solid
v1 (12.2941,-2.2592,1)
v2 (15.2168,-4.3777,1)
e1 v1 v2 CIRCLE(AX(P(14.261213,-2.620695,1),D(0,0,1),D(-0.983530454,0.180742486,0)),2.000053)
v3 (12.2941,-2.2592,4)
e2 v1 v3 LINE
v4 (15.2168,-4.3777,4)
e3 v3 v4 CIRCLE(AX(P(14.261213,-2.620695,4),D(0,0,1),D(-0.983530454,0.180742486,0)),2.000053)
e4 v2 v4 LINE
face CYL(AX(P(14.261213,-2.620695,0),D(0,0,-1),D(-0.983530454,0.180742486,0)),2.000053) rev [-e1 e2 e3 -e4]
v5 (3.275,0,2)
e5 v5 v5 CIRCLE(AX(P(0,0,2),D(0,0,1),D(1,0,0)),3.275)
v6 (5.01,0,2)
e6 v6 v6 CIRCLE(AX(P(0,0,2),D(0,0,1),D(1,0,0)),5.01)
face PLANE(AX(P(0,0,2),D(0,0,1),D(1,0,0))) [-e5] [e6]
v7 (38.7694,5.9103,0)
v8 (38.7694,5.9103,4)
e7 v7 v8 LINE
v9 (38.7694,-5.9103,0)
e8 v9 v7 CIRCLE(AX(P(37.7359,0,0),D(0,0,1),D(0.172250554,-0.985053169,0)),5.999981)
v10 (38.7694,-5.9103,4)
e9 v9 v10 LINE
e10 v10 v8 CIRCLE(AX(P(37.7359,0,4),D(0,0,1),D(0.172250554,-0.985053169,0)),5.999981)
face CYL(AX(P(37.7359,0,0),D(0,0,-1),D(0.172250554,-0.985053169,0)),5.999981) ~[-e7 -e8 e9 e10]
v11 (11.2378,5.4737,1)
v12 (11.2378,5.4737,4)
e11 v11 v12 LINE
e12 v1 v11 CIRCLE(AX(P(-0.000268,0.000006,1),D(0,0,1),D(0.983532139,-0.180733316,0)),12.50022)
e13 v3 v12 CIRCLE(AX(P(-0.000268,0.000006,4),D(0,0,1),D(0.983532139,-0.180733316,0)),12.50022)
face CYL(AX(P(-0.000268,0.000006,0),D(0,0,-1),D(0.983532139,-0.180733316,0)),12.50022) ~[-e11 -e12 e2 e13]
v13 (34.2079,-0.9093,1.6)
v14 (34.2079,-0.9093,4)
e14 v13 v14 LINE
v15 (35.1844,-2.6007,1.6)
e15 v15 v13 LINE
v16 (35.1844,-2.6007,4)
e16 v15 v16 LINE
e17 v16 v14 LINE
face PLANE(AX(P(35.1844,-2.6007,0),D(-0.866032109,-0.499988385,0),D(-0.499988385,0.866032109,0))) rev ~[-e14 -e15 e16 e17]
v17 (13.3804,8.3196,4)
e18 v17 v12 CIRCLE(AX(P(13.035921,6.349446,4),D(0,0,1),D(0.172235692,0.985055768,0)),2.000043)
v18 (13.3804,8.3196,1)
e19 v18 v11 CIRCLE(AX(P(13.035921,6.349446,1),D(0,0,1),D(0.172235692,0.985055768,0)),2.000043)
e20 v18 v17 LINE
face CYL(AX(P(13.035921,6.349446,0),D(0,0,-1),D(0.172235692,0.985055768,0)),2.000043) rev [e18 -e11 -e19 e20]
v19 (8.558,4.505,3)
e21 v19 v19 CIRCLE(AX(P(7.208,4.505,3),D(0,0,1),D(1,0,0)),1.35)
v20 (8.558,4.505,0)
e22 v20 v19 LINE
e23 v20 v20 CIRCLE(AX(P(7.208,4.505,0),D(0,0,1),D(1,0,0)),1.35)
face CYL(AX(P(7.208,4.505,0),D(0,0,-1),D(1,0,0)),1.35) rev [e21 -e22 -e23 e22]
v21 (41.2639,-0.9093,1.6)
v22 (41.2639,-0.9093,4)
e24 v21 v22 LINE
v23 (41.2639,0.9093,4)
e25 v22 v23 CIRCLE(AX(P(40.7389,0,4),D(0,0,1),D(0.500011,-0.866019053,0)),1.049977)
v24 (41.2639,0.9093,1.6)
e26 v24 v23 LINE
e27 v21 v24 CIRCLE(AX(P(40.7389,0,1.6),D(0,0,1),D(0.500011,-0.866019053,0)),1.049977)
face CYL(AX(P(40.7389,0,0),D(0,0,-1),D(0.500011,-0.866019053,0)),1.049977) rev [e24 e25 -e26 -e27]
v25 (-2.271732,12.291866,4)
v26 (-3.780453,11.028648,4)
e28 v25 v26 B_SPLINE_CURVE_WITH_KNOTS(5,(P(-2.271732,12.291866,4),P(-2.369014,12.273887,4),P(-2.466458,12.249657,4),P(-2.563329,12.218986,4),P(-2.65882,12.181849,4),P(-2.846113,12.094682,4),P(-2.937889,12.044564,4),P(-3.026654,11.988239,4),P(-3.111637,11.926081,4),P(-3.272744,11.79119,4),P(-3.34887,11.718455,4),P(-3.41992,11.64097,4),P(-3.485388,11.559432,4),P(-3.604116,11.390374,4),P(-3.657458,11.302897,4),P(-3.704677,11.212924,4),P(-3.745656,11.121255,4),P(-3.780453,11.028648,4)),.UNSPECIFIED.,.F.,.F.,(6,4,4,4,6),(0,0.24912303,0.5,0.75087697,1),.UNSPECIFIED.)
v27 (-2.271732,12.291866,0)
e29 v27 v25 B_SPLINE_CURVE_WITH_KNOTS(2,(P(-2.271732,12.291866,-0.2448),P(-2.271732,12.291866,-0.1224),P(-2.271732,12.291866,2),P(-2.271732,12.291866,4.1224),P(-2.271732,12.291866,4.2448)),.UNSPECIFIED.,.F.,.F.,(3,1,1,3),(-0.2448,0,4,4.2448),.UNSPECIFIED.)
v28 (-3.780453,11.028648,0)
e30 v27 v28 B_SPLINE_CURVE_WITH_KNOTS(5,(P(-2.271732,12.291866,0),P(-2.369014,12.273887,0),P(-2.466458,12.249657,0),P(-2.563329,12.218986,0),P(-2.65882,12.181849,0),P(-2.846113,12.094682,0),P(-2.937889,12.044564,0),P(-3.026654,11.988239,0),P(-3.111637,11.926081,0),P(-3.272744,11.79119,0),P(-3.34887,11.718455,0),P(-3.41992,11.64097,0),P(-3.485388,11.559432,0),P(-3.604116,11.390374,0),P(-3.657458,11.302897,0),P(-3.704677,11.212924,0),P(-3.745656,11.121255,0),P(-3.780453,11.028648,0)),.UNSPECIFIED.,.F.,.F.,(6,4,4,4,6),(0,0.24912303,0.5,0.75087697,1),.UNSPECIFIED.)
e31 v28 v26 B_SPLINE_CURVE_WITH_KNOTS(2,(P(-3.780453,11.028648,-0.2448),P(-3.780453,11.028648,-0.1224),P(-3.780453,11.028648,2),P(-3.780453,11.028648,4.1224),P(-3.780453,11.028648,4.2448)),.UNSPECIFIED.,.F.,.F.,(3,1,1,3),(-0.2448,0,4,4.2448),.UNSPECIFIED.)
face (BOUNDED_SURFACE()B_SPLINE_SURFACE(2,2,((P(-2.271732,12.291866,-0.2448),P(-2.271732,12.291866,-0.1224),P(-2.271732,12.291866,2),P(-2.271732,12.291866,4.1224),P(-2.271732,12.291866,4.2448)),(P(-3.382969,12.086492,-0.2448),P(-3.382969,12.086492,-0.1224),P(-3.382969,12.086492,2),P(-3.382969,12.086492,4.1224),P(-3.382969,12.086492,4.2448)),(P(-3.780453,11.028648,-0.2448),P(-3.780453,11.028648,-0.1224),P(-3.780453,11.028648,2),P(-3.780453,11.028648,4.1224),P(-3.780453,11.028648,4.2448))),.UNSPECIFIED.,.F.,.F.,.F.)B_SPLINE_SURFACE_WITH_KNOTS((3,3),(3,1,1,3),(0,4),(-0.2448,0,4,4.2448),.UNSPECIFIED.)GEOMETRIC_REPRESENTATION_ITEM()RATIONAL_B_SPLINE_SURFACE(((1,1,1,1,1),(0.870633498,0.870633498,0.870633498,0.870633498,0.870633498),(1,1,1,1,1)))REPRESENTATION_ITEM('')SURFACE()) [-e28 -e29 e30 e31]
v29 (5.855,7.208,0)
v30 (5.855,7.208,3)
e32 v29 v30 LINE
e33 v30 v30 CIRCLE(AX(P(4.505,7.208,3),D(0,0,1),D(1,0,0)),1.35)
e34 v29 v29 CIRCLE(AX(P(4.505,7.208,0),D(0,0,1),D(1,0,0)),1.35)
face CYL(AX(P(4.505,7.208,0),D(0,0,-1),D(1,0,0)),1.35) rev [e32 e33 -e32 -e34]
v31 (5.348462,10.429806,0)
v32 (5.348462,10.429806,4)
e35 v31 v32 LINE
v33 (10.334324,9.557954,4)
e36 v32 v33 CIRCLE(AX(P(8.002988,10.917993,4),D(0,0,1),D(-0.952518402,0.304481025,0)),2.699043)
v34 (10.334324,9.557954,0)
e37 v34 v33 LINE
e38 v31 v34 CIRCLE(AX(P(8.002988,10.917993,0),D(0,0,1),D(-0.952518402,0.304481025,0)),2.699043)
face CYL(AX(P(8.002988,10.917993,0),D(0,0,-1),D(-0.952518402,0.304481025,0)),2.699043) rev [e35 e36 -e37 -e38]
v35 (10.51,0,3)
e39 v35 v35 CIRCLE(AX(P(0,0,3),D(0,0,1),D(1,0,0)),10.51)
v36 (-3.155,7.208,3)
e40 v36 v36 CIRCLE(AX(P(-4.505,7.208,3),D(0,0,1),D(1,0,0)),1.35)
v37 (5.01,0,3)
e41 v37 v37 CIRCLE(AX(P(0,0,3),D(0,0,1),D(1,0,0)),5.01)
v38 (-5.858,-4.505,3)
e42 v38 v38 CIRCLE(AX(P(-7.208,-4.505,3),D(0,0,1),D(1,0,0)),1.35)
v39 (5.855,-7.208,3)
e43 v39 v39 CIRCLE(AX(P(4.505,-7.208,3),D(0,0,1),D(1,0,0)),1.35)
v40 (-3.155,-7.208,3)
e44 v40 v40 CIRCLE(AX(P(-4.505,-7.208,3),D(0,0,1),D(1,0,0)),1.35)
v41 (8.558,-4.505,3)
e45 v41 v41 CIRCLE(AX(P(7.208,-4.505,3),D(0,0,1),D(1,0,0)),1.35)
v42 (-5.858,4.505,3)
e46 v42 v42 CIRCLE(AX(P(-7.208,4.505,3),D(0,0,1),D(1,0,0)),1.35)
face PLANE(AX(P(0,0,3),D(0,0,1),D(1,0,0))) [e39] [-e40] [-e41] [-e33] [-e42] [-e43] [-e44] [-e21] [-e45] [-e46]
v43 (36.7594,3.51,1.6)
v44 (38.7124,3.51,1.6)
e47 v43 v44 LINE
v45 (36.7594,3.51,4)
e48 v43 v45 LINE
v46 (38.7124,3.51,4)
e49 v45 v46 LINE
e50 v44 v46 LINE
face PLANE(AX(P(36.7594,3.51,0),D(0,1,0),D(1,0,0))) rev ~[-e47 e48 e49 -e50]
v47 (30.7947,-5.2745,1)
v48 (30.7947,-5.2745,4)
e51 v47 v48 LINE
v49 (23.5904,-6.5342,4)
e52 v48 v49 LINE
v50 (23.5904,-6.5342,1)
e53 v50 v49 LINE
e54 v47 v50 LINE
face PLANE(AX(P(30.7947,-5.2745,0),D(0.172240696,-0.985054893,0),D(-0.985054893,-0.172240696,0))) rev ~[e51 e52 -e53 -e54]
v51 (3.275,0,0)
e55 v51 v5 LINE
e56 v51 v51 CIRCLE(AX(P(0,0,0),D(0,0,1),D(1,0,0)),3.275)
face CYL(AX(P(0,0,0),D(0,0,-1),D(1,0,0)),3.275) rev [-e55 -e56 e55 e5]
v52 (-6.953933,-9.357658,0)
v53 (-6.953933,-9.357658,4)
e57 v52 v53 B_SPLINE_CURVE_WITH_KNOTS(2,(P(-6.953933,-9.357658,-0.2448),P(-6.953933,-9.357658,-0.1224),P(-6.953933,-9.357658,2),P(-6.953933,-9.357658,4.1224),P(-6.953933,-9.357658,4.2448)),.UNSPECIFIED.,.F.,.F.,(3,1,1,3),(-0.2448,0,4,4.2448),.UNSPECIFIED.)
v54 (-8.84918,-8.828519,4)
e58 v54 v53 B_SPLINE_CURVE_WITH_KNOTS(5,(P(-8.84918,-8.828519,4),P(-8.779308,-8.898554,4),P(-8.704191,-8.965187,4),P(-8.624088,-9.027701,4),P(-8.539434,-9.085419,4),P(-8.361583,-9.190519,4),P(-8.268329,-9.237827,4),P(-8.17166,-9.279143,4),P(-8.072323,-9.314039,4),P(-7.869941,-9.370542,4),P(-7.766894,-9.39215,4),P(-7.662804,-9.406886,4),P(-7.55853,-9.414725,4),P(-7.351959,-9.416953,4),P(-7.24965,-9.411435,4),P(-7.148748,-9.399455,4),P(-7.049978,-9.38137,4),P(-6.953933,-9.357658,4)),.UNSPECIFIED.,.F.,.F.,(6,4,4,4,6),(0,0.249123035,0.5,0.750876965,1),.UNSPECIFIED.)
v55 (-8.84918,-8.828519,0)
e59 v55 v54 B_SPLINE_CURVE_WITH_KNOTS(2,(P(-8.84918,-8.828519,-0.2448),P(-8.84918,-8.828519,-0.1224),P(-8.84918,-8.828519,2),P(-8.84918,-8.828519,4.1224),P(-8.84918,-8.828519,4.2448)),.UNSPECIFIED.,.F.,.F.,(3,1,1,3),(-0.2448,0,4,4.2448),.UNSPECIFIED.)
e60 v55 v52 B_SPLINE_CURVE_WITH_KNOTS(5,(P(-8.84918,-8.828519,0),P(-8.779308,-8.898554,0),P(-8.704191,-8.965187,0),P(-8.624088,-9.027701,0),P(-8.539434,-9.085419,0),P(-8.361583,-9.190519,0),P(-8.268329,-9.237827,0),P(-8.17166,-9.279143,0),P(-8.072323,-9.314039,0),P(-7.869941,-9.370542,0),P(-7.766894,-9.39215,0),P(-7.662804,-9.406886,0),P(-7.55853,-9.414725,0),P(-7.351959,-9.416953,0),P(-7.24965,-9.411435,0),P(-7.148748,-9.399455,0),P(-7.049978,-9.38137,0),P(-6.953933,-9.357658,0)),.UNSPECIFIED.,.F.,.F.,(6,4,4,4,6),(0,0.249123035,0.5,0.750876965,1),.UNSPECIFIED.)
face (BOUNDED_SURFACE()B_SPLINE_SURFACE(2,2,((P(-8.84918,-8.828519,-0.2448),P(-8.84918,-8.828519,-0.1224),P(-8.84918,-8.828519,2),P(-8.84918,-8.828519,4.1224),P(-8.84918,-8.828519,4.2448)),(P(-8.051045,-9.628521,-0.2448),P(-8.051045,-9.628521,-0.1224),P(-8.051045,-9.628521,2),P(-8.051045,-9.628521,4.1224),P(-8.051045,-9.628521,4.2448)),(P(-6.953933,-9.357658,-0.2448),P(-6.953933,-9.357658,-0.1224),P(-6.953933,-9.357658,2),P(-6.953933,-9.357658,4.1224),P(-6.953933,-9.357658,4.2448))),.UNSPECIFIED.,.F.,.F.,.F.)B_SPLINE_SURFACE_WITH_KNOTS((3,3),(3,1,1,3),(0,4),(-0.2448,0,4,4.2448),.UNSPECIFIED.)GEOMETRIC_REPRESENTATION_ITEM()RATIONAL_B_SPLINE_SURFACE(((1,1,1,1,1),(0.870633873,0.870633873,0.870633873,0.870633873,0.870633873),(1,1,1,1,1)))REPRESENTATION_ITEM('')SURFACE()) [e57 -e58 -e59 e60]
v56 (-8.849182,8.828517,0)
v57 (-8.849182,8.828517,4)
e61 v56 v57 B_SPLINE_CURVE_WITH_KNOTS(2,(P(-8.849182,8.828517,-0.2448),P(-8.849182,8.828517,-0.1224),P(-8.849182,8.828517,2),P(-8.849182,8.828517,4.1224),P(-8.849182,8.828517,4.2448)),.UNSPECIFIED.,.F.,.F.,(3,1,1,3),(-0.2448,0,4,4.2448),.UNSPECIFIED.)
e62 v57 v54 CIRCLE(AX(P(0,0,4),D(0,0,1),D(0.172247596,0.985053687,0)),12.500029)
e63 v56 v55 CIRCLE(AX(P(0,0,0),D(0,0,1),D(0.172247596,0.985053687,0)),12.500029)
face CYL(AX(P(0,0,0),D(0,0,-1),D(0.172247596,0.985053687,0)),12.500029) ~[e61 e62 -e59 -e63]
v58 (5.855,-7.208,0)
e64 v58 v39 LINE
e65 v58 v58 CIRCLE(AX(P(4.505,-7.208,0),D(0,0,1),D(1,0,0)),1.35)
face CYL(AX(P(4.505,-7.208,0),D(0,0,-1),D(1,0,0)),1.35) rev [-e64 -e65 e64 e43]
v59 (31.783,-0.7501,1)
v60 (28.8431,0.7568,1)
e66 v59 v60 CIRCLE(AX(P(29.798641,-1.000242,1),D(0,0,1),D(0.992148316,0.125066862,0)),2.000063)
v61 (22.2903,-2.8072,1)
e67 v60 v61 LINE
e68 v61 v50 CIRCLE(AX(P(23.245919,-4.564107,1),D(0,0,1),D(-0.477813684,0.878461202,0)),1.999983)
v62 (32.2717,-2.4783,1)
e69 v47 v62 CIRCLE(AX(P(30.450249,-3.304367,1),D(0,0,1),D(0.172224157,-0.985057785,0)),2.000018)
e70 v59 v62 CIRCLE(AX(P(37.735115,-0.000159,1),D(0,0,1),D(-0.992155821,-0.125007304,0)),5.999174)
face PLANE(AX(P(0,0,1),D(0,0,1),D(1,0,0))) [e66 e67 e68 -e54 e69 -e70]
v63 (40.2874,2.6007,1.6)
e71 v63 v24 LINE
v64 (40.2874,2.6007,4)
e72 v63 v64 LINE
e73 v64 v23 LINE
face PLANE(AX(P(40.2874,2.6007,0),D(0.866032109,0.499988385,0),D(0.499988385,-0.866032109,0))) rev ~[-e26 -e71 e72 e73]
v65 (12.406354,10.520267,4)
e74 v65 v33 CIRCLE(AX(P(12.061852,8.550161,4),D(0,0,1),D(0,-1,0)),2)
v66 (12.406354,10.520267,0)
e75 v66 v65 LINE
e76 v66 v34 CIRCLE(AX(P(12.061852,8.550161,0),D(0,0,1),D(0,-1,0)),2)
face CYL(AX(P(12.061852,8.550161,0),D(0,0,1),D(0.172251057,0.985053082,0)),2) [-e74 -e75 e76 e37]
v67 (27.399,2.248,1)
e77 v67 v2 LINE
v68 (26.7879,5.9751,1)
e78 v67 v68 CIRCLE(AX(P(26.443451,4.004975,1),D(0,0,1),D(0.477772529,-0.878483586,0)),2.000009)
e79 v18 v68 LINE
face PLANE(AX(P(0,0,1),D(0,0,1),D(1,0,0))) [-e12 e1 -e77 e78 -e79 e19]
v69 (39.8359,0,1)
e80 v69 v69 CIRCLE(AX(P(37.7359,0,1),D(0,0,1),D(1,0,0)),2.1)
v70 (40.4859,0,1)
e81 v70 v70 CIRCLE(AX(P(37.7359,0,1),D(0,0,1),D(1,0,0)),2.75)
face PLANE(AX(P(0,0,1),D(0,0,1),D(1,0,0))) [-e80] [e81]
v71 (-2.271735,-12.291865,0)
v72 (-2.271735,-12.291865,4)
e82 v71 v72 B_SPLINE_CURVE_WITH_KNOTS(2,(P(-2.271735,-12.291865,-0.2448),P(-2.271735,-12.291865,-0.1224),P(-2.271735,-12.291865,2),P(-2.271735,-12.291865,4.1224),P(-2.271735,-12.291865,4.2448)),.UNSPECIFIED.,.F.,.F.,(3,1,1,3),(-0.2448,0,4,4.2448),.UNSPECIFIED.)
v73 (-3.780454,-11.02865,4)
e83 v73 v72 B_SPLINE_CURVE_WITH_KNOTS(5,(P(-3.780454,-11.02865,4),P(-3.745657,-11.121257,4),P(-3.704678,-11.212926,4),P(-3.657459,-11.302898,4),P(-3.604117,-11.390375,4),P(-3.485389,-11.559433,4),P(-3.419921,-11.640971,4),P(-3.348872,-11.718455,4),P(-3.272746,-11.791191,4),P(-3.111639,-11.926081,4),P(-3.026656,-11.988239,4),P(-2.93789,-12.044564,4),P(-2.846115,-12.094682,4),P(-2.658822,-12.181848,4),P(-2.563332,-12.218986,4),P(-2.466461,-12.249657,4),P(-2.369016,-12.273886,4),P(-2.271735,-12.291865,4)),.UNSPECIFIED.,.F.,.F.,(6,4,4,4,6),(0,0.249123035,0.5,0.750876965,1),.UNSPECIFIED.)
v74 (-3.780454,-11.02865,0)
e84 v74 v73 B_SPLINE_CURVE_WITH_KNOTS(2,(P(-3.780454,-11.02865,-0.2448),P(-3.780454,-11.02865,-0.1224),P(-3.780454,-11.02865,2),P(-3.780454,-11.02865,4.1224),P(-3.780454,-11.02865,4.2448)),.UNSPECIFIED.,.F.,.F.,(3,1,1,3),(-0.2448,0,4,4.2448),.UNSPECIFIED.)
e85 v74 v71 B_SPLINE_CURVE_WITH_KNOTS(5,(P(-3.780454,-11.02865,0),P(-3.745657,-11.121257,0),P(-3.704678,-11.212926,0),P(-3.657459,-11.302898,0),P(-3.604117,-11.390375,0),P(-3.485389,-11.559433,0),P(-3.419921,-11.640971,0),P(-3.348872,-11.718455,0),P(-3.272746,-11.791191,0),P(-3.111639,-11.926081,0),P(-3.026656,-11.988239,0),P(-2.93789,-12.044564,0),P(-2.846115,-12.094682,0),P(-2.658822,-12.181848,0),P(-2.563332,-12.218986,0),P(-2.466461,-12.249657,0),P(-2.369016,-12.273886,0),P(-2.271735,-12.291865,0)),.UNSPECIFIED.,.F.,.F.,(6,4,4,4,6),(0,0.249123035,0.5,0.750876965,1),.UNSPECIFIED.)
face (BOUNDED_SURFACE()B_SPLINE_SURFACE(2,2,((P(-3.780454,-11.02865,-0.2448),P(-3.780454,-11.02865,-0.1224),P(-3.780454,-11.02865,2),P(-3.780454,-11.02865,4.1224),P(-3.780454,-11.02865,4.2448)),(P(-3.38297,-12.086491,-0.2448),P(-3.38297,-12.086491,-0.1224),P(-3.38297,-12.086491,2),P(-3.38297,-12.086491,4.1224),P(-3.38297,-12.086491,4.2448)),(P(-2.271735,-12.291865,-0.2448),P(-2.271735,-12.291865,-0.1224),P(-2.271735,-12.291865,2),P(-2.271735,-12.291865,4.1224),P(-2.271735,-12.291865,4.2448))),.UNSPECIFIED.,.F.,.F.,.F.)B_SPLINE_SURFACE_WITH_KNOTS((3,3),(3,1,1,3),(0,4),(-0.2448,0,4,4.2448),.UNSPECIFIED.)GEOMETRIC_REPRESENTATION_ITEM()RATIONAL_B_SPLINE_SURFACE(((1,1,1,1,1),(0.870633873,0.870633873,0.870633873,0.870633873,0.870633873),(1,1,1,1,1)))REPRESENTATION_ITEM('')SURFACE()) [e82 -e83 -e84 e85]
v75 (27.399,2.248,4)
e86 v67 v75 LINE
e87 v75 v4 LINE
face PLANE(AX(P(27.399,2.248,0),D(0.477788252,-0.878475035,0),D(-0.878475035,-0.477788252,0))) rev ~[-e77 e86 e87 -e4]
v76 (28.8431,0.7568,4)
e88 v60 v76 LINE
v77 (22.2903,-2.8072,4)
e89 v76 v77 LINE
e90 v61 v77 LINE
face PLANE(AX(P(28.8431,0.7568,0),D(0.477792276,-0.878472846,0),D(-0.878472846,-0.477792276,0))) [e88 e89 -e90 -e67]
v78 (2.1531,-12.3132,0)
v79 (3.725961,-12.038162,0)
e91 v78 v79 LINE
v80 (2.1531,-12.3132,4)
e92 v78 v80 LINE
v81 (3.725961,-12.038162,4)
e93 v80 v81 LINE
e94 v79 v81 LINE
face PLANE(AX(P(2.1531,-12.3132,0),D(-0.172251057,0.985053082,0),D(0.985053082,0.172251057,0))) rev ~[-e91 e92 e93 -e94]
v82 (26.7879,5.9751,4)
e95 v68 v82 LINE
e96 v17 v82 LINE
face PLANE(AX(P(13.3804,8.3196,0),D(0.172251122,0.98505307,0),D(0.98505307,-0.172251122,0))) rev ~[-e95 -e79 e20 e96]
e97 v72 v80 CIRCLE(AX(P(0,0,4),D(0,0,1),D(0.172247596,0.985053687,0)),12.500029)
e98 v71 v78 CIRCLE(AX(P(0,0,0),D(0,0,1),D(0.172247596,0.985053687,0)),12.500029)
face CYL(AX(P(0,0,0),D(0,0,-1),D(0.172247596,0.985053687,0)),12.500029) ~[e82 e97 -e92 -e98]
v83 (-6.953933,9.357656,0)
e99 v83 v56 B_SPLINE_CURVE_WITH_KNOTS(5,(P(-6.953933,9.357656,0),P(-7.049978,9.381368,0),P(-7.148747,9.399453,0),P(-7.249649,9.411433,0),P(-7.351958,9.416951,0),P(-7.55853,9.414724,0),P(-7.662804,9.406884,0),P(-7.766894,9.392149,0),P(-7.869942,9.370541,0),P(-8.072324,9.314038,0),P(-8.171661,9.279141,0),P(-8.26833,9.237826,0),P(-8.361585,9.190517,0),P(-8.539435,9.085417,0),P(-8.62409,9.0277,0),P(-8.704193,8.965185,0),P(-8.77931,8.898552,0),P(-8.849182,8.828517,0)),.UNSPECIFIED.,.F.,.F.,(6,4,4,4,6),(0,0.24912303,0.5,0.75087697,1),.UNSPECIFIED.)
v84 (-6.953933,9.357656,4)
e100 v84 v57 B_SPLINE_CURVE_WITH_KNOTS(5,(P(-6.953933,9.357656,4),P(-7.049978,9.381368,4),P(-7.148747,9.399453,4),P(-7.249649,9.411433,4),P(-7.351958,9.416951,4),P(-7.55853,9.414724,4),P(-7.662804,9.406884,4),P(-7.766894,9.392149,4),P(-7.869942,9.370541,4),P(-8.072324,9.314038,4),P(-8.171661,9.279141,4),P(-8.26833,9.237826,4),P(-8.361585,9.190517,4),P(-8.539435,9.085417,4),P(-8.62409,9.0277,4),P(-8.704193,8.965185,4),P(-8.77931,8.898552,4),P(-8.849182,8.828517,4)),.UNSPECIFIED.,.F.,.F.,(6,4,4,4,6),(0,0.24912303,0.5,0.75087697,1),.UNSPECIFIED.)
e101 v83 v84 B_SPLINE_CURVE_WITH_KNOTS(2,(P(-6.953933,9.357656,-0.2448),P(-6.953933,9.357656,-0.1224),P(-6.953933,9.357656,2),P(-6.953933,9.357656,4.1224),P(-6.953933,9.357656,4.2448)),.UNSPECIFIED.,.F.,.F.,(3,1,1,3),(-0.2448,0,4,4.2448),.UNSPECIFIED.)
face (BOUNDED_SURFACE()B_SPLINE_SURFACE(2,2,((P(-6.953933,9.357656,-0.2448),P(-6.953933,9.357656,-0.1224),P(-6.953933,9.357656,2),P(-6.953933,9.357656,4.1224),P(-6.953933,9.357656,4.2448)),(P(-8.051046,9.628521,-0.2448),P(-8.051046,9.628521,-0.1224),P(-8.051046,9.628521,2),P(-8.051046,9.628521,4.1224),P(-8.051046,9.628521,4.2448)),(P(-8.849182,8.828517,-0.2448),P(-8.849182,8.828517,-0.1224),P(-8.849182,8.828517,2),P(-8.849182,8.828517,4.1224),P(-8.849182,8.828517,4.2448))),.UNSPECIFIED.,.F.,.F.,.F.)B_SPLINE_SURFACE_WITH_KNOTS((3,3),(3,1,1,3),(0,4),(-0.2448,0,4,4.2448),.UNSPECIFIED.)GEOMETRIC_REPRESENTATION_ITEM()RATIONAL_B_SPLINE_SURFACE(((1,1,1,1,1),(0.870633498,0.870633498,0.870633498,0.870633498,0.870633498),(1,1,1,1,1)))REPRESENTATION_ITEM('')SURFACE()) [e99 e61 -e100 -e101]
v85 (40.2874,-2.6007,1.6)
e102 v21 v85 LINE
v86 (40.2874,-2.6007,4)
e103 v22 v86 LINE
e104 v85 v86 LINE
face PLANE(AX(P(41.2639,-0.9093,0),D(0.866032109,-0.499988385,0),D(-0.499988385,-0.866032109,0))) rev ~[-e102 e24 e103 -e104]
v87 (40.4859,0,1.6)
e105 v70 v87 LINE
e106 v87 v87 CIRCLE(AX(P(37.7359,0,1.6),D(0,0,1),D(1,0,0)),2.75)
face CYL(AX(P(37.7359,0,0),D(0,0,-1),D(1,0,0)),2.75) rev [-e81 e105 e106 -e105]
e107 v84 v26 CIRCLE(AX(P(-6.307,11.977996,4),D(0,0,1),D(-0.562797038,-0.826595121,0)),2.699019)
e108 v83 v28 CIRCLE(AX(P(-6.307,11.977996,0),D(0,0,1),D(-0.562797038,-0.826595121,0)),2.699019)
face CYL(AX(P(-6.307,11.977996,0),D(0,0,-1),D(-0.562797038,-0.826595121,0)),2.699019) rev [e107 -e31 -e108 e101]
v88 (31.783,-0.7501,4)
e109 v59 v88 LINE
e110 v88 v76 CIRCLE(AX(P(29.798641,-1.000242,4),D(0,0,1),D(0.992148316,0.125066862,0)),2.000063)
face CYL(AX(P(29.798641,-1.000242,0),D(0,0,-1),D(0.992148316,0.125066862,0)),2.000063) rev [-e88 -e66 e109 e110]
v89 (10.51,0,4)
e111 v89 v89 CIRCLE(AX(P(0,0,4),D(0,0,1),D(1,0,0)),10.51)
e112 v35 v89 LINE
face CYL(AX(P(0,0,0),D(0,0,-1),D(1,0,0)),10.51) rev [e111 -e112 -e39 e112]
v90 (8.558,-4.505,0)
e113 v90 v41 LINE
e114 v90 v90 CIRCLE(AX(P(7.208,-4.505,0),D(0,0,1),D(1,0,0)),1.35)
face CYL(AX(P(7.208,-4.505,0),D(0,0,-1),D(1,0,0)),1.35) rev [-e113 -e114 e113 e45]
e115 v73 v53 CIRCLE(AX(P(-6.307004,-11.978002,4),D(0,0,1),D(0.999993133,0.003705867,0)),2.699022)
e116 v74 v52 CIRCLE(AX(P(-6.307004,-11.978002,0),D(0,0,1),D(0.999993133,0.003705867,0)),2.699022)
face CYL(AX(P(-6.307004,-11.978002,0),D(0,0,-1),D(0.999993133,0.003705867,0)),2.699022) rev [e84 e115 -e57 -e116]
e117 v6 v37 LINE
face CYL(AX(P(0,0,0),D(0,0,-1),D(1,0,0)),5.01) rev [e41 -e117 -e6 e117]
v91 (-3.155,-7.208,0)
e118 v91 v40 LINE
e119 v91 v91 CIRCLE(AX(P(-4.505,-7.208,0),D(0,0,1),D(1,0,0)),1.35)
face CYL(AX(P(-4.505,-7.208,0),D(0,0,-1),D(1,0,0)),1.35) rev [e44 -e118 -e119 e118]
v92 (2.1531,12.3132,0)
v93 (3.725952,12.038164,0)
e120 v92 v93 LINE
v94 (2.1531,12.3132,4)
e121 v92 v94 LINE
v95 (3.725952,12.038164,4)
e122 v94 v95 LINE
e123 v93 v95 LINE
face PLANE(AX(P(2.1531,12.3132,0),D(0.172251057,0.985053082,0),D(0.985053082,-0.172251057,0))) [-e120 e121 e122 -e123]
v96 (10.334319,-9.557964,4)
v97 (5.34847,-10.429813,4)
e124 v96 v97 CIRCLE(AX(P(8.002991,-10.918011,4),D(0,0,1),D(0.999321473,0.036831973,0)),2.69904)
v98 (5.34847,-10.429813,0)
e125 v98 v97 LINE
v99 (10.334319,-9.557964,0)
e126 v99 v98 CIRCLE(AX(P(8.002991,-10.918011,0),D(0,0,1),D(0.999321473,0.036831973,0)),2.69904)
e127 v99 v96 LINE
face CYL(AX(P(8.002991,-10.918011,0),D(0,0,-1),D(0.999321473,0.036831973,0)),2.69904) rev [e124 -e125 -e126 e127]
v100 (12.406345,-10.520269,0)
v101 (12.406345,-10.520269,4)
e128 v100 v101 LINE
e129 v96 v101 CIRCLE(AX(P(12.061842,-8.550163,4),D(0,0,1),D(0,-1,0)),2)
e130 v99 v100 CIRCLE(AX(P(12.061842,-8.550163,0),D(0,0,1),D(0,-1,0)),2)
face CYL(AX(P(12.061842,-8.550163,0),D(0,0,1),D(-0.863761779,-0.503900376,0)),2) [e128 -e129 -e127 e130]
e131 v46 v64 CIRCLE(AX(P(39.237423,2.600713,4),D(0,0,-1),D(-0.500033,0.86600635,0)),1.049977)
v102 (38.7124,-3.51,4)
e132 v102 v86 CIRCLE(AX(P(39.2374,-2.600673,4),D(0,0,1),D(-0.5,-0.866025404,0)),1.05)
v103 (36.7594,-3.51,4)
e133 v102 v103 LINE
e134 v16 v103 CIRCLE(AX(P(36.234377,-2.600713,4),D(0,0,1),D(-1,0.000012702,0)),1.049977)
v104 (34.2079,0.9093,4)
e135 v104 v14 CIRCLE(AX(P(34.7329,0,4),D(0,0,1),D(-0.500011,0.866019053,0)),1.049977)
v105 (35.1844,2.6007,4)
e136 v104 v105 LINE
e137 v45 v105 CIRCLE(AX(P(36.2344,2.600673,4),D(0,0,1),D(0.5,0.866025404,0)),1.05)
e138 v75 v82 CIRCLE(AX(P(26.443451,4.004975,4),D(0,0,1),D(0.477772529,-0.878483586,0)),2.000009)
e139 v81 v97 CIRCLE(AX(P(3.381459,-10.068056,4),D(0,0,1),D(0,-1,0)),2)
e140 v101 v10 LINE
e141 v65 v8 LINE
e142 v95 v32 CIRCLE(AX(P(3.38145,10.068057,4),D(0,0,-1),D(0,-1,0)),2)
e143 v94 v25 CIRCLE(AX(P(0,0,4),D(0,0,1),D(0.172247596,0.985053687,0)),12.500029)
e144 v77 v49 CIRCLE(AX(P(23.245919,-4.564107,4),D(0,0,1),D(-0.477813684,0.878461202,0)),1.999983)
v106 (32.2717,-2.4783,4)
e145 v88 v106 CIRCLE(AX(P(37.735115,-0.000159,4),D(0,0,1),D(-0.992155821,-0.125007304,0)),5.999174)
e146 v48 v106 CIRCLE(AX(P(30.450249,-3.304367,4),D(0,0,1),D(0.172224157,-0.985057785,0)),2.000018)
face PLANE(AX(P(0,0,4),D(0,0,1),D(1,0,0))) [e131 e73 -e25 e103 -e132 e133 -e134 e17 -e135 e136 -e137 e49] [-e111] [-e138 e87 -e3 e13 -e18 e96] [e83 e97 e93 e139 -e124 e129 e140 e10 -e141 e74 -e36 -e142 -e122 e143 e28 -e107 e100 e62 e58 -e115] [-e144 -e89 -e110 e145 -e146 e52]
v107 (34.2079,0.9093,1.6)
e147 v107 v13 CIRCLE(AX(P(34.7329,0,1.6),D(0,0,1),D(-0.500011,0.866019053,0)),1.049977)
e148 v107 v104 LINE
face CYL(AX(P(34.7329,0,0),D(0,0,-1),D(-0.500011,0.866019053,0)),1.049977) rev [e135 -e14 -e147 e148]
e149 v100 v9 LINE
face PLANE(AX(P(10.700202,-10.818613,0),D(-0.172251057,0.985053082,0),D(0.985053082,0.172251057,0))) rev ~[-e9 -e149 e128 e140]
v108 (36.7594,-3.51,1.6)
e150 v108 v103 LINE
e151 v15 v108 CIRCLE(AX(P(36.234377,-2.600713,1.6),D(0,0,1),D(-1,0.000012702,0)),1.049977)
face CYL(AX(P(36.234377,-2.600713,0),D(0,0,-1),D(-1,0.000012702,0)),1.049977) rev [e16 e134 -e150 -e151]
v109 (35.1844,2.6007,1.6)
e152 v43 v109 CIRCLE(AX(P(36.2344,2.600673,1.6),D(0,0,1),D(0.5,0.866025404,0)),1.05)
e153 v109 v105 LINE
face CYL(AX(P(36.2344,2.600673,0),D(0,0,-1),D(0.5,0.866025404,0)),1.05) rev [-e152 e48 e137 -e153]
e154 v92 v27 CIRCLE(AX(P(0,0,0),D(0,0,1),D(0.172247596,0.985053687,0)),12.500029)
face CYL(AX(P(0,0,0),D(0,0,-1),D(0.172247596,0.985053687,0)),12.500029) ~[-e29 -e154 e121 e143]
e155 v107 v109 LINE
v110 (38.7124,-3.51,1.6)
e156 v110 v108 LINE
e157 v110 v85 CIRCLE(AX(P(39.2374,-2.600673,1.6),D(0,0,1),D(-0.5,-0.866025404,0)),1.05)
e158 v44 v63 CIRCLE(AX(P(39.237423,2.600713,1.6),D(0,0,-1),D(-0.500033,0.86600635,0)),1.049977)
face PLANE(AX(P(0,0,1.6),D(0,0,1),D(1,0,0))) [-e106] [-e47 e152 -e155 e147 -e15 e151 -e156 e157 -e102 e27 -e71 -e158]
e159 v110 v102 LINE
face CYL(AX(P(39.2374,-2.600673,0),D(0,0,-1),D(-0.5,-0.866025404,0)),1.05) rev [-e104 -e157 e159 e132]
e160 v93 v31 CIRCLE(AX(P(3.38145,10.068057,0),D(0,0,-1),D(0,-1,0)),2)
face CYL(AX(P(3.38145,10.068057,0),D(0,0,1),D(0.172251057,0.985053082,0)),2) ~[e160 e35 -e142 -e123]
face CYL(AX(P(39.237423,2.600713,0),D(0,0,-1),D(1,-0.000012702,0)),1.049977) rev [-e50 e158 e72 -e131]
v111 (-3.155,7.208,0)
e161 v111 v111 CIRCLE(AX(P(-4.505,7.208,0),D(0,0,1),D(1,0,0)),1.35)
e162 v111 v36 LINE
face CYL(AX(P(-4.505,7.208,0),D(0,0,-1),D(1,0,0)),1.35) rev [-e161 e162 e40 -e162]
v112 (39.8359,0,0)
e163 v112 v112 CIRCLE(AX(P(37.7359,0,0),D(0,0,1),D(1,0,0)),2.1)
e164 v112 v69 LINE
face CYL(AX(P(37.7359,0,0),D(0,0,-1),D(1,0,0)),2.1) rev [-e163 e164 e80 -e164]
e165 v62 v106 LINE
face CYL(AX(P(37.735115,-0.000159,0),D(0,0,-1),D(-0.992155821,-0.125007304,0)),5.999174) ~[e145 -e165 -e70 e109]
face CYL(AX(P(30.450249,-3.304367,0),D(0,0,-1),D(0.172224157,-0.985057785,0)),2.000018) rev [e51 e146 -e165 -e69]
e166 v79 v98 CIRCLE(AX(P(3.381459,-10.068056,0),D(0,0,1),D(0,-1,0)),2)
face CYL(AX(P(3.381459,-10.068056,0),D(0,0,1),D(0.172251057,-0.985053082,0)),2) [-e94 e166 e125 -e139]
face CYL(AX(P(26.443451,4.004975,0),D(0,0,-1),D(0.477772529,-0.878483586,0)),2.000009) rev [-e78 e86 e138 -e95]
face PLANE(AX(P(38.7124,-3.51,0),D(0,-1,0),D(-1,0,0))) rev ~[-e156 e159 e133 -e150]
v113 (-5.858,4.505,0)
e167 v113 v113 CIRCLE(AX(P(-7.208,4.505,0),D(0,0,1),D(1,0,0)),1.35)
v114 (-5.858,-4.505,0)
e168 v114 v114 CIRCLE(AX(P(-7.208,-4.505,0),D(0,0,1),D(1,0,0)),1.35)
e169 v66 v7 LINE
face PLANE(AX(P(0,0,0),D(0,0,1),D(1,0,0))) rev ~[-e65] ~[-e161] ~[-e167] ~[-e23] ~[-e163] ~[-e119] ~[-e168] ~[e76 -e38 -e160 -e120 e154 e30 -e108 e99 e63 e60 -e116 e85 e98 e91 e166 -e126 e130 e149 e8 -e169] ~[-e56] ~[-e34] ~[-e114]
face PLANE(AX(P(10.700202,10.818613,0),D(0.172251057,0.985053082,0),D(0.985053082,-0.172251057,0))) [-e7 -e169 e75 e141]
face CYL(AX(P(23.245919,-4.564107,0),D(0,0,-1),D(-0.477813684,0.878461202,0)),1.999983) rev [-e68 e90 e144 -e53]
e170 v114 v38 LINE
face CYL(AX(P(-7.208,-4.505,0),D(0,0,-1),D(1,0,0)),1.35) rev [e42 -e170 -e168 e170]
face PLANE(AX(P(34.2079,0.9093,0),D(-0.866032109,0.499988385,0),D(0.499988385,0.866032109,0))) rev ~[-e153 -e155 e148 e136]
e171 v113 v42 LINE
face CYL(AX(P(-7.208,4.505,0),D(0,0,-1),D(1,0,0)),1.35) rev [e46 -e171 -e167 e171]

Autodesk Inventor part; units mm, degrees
ref_plane "YZ Plane" through (0, 0, 0) normal (1, 0, 0) x (0, 1, 0)
ref_plane "XZ Plane" through (0, 0, 0) normal (0, 1, 0) x (-1, 0, 0)
ref_plane "XY Plane" through (0, 0, 0) normal (0, 0, 1) x (1, 0, 0)
sketch "スケッチ1" plane through (0, 0, 0) normal (0, 0, 1) x (1, 0, 0)
  circle A0 centre (0, 0) radius 10.5 construction
  circle A1 centre (0, 0) radius 5 construction
  circle A2 centre (0, 0) radius 5.01
  circle A3 centre (0, 0) radius 10.51
  arc A4 (2.1531, 12.3132) -> (2.1531, -12.3132) centre (0, 0) ccw
  circle A5 centre (37.7359, 0) radius 2.75
  arc A6 (38.7694, -5.9103) -> (38.7694, 5.9103) centre (37.7359, 0) ccw
  line L0 (2.1531, 12.3132) -> (38.7694, 5.9103)
  line L1 (2.1531, -12.3132) -> (38.7694, -5.9103)
  line L2 (13.3804, 8.3196) -> (26.7879, 5.9751)
  line L3 (30.7947, -5.2745) -> (23.5904, -6.5342)
  arc A7 (2.1531, -12.3132) -> (-4.7001, 11.5827) centre (0, 0) ccw construction
  arc A8 (38.7694, 5.9103) -> (32.2717, -2.4783) centre (37.7359, 0) ccw construction
  line L4 (34.0196, 4.7105) -> (8.4896, -9.1748) construction
  line L5 (27.399, 2.248) -> (15.2168, -4.3777)
  line L6 (28.8431, 0.7568) -> (22.2903, -2.8072)
  line L7 (32.4358, 4.9875) -> (34.0196, 4.7105) construction
  line L8 (11.5743, -8.6354) -> (8.4896, -9.1748) construction
  arc A9 (31.783, -0.7501) -> (32.2717, -2.4783) centre (37.7359, 0) ccw
  arc A10 (12.2941, -2.2592) -> (11.2378, 5.4737) centre (0, 0) ccw
  line L9 (41.7889, 0) -> (41.2639, -0.9093) construction
  line L10 (39.7624, -3.51) -> (38.7124, -3.51) construction
  line L11 (35.7094, -3.51) -> (35.1844, -2.6007) construction
  line L12 (33.6829, 0) -> (34.2079, 0.9093) construction
  line L13 (35.7094, 3.51) -> (36.7594, 3.51) construction
  line L14 (39.7624, 3.51) -> (40.2874, 2.6007)
  arc A11 (41.2639, -0.9093) -> (41.2639, 0.9093) centre (40.7389, 0) ccw
  arc A12 (40.2874, 2.6007) -> (38.7124, 3.51) centre (39.2374, 2.6007) ccw
  arc A13 (36.7594, 3.51) -> (35.1844, 2.6007) centre (36.2344, 2.6007) ccw
  arc A14 (34.2079, 0.9093) -> (34.2079, -0.9093) centre (34.7329, 0) ccw
  arc A15 (35.1844, -2.6007) -> (36.7594, -3.51) centre (36.2344, -2.6007) ccw
  arc A16 (38.7124, -3.51) -> (40.2874, -2.6007) centre (39.2374, -2.6007) ccw
  line L15 (41.2639, -0.9093) -> (40.2874, -2.6007)
  line L16 (40.2874, -2.6007) -> (39.7624, -3.51) construction
  line L17 (38.7124, -3.51) -> (36.7594, -3.51)
  line L18 (36.7594, -3.51) -> (35.7094, -3.51) construction
  line L19 (35.1844, -2.6007) -> (34.2079, -0.9093)
  line L20 (34.2079, -0.9093) -> (33.6829, 0) construction
  line L21 (35.1844, 2.6007) -> (35.7094, 3.51) construction
  line L22 (34.2079, 0.9093) -> (35.1844, 2.6007)
  line L23 (36.7594, 3.51) -> (38.7124, 3.51)
  line L24 (38.7124, 3.51) -> (39.7624, 3.51) construction
  line L25 (40.2874, 2.6007) -> (41.2639, 0.9093)
  line L26 (41.2639, 0.9093) -> (41.7889, 0) construction
  circle A17 centre (37.7359, 0) radius 2.1
  circle A18 centre (0, 0) radius 3.275
  line L27 (0, 0) -> (27.1359, -16.96) construction
  line L28 (37.7359, 0) -> (27.1359, -16.96) construction
  line L29 (0, 0) -> (37.7359, 0) construction
  line L30 (0, 0) -> (0.848, -0.53)
  line L31 (8.003, 10.918) -> (-6.307, -11.978) construction
  arc A19 (-3.608, -11.968) -> (-7.826, -9.747) centre (-6.307, -11.978) ccw
  arc A20 (5.4321, 11.7398) -> (10.7002, 10.8186) centre (8.003, 10.918) ccw
  arc A21 (13.3804, 8.3196) -> (11.2378, 5.4737) centre (13.0359, 6.3495) ccw
  arc A22 (12.2941, -2.2592) -> (15.2168, -4.3777) centre (14.2612, -2.6207) ccw
  arc A23 (22.2903, -2.8072) -> (23.5904, -6.5342) centre (23.2459, -4.5641) ccw
  arc A24 (30.7947, -5.2745) -> (32.2717, -2.4783) centre (30.4502, -3.3043) ccw
  arc A25 (31.783, -0.7501) -> (28.8431, 0.7568) centre (29.7987, -1.0002) ccw
  arc A26 (27.399, 2.248) -> (26.7879, 5.9751) centre (26.4434, 4.005) ccw
  line L32 (8.003, -10.918) -> (-6.307, 11.978) construction
  arc A27 (-7.826, 9.747) -> (-3.608, 11.968) centre (-6.307, 11.978) ccw
  arc A28 (10.7002, -10.8186) -> (5.4321, -11.7398) centre (8.003, -10.918) ccw
  line L33 (-6.625, -10.6) -> (6.625, 10.6) construction
  circle A29 centre (4.505, 7.208) radius 1.35
  circle A30 centre (-7.208, 4.505) radius 1.35
  circle A31 centre (-4.505, -7.208) radius 1.35
  circle A32 centre (7.208, -4.505) radius 1.35
  circle A33 centre (4.505, -7.208) radius 1.35
  circle A34 centre (-7.208, -4.505) radius 1.35
  circle A35 centre (-4.505, 7.208) radius 1.35
  circle A36 centre (7.208, 4.505) radius 1.35
  circle A37 centre (-4.505, -7.208) radius 2.4 construction
  point P0 (8.4896, 9.1748)
  point P1 (34.0196, -4.7105)
  point P2 (10.3333, -7.0337)
  point P3 (32.3635, 2.6714)
  point P4 (39.7624, 3.51)
  point P5 (9.5861, 8.9831)
  point P6 (9.0332, 8.6401)
  point P7 (-3.608, 11.968)
  dimension "d0" = 21
  dimension "d1" = 10
  dimension "d2" = 0.01
  dimension "d3" = 0.01
  dimension "d4" = 25
  dimension "d7" = 5.5
  dimension "d8" = 6
  dimension "d15" = 2
  dimension "d16" = 2
  dimension "d17" = 1
  dimension "d18" = 1
  dimension "d20" = 1.05
  dimension "d23" = 360
  dimension "d25" = 7.02
  dimension "d30" = 4.2
  dimension "d33" = 6.55
  dimension "d41" = 20
  dimension "d42" = 32
  dimension "d46" = 27
  dimension "d47" = 1
  dimension "d48" = 90
  dimension "d49" = 2.699
  dimension "d50" = 2.699
  dimension "d51" = 2
  dimension "d52" = 2
  dimension "d53" = 2
  dimension "d55" = 2.699
  dimension "d56" = 2.699
  dimension "d57" = 2.7
  dimension "d58" = 8.5
  dimension "d61" = 360
  dimension "d63" = 4.8
extrude "押し出し1" add sketch "スケッチ1" along normal blind 4 contours L0 A20 A6 L1 A28 A4 A19 A27
extrude "押し出し2" add sketch "スケッチ1" along normal blind 1.6 contours A12 L14 | L14 L25 A11 L15 A16 L17 A15 L19 A14 L22 A13 L23 A12
extrude "押し出し3" add sketch "スケッチ1" along normal blind 1 contours A5
extrude "押し出し4" add sketch "スケッチ1" along normal blind 3 contours A3
extrude "押し出し5" add sketch "スケッチ1" along normal blind 2 contours A2
extrude "押し出し6" add sketch "スケッチ1" along normal blind 1 contours L2 A26 L5 A22 A10 A21 | L3 A23 L6 A25 A9 A24
fillet "フィレット1" radius 2 8 edges at (-3.608, -11.968, 2) (-7.826, -9.747, 2) (10.7002, 10.8186, 2) (5.4321, 11.7398, 2) (5.4321, -11.7398, 2) (10.7002, -10.8186, 2) (-7.826, 9.747, 2) (-3.608, 11.968, 2)
equation "\"d3\" = d2"
equation "\"d18\" = d17"
equation "\"d50\" = d49"
properties part number "Ankle_side_pitch_frame" material "アルミニウム 2014-T4"
